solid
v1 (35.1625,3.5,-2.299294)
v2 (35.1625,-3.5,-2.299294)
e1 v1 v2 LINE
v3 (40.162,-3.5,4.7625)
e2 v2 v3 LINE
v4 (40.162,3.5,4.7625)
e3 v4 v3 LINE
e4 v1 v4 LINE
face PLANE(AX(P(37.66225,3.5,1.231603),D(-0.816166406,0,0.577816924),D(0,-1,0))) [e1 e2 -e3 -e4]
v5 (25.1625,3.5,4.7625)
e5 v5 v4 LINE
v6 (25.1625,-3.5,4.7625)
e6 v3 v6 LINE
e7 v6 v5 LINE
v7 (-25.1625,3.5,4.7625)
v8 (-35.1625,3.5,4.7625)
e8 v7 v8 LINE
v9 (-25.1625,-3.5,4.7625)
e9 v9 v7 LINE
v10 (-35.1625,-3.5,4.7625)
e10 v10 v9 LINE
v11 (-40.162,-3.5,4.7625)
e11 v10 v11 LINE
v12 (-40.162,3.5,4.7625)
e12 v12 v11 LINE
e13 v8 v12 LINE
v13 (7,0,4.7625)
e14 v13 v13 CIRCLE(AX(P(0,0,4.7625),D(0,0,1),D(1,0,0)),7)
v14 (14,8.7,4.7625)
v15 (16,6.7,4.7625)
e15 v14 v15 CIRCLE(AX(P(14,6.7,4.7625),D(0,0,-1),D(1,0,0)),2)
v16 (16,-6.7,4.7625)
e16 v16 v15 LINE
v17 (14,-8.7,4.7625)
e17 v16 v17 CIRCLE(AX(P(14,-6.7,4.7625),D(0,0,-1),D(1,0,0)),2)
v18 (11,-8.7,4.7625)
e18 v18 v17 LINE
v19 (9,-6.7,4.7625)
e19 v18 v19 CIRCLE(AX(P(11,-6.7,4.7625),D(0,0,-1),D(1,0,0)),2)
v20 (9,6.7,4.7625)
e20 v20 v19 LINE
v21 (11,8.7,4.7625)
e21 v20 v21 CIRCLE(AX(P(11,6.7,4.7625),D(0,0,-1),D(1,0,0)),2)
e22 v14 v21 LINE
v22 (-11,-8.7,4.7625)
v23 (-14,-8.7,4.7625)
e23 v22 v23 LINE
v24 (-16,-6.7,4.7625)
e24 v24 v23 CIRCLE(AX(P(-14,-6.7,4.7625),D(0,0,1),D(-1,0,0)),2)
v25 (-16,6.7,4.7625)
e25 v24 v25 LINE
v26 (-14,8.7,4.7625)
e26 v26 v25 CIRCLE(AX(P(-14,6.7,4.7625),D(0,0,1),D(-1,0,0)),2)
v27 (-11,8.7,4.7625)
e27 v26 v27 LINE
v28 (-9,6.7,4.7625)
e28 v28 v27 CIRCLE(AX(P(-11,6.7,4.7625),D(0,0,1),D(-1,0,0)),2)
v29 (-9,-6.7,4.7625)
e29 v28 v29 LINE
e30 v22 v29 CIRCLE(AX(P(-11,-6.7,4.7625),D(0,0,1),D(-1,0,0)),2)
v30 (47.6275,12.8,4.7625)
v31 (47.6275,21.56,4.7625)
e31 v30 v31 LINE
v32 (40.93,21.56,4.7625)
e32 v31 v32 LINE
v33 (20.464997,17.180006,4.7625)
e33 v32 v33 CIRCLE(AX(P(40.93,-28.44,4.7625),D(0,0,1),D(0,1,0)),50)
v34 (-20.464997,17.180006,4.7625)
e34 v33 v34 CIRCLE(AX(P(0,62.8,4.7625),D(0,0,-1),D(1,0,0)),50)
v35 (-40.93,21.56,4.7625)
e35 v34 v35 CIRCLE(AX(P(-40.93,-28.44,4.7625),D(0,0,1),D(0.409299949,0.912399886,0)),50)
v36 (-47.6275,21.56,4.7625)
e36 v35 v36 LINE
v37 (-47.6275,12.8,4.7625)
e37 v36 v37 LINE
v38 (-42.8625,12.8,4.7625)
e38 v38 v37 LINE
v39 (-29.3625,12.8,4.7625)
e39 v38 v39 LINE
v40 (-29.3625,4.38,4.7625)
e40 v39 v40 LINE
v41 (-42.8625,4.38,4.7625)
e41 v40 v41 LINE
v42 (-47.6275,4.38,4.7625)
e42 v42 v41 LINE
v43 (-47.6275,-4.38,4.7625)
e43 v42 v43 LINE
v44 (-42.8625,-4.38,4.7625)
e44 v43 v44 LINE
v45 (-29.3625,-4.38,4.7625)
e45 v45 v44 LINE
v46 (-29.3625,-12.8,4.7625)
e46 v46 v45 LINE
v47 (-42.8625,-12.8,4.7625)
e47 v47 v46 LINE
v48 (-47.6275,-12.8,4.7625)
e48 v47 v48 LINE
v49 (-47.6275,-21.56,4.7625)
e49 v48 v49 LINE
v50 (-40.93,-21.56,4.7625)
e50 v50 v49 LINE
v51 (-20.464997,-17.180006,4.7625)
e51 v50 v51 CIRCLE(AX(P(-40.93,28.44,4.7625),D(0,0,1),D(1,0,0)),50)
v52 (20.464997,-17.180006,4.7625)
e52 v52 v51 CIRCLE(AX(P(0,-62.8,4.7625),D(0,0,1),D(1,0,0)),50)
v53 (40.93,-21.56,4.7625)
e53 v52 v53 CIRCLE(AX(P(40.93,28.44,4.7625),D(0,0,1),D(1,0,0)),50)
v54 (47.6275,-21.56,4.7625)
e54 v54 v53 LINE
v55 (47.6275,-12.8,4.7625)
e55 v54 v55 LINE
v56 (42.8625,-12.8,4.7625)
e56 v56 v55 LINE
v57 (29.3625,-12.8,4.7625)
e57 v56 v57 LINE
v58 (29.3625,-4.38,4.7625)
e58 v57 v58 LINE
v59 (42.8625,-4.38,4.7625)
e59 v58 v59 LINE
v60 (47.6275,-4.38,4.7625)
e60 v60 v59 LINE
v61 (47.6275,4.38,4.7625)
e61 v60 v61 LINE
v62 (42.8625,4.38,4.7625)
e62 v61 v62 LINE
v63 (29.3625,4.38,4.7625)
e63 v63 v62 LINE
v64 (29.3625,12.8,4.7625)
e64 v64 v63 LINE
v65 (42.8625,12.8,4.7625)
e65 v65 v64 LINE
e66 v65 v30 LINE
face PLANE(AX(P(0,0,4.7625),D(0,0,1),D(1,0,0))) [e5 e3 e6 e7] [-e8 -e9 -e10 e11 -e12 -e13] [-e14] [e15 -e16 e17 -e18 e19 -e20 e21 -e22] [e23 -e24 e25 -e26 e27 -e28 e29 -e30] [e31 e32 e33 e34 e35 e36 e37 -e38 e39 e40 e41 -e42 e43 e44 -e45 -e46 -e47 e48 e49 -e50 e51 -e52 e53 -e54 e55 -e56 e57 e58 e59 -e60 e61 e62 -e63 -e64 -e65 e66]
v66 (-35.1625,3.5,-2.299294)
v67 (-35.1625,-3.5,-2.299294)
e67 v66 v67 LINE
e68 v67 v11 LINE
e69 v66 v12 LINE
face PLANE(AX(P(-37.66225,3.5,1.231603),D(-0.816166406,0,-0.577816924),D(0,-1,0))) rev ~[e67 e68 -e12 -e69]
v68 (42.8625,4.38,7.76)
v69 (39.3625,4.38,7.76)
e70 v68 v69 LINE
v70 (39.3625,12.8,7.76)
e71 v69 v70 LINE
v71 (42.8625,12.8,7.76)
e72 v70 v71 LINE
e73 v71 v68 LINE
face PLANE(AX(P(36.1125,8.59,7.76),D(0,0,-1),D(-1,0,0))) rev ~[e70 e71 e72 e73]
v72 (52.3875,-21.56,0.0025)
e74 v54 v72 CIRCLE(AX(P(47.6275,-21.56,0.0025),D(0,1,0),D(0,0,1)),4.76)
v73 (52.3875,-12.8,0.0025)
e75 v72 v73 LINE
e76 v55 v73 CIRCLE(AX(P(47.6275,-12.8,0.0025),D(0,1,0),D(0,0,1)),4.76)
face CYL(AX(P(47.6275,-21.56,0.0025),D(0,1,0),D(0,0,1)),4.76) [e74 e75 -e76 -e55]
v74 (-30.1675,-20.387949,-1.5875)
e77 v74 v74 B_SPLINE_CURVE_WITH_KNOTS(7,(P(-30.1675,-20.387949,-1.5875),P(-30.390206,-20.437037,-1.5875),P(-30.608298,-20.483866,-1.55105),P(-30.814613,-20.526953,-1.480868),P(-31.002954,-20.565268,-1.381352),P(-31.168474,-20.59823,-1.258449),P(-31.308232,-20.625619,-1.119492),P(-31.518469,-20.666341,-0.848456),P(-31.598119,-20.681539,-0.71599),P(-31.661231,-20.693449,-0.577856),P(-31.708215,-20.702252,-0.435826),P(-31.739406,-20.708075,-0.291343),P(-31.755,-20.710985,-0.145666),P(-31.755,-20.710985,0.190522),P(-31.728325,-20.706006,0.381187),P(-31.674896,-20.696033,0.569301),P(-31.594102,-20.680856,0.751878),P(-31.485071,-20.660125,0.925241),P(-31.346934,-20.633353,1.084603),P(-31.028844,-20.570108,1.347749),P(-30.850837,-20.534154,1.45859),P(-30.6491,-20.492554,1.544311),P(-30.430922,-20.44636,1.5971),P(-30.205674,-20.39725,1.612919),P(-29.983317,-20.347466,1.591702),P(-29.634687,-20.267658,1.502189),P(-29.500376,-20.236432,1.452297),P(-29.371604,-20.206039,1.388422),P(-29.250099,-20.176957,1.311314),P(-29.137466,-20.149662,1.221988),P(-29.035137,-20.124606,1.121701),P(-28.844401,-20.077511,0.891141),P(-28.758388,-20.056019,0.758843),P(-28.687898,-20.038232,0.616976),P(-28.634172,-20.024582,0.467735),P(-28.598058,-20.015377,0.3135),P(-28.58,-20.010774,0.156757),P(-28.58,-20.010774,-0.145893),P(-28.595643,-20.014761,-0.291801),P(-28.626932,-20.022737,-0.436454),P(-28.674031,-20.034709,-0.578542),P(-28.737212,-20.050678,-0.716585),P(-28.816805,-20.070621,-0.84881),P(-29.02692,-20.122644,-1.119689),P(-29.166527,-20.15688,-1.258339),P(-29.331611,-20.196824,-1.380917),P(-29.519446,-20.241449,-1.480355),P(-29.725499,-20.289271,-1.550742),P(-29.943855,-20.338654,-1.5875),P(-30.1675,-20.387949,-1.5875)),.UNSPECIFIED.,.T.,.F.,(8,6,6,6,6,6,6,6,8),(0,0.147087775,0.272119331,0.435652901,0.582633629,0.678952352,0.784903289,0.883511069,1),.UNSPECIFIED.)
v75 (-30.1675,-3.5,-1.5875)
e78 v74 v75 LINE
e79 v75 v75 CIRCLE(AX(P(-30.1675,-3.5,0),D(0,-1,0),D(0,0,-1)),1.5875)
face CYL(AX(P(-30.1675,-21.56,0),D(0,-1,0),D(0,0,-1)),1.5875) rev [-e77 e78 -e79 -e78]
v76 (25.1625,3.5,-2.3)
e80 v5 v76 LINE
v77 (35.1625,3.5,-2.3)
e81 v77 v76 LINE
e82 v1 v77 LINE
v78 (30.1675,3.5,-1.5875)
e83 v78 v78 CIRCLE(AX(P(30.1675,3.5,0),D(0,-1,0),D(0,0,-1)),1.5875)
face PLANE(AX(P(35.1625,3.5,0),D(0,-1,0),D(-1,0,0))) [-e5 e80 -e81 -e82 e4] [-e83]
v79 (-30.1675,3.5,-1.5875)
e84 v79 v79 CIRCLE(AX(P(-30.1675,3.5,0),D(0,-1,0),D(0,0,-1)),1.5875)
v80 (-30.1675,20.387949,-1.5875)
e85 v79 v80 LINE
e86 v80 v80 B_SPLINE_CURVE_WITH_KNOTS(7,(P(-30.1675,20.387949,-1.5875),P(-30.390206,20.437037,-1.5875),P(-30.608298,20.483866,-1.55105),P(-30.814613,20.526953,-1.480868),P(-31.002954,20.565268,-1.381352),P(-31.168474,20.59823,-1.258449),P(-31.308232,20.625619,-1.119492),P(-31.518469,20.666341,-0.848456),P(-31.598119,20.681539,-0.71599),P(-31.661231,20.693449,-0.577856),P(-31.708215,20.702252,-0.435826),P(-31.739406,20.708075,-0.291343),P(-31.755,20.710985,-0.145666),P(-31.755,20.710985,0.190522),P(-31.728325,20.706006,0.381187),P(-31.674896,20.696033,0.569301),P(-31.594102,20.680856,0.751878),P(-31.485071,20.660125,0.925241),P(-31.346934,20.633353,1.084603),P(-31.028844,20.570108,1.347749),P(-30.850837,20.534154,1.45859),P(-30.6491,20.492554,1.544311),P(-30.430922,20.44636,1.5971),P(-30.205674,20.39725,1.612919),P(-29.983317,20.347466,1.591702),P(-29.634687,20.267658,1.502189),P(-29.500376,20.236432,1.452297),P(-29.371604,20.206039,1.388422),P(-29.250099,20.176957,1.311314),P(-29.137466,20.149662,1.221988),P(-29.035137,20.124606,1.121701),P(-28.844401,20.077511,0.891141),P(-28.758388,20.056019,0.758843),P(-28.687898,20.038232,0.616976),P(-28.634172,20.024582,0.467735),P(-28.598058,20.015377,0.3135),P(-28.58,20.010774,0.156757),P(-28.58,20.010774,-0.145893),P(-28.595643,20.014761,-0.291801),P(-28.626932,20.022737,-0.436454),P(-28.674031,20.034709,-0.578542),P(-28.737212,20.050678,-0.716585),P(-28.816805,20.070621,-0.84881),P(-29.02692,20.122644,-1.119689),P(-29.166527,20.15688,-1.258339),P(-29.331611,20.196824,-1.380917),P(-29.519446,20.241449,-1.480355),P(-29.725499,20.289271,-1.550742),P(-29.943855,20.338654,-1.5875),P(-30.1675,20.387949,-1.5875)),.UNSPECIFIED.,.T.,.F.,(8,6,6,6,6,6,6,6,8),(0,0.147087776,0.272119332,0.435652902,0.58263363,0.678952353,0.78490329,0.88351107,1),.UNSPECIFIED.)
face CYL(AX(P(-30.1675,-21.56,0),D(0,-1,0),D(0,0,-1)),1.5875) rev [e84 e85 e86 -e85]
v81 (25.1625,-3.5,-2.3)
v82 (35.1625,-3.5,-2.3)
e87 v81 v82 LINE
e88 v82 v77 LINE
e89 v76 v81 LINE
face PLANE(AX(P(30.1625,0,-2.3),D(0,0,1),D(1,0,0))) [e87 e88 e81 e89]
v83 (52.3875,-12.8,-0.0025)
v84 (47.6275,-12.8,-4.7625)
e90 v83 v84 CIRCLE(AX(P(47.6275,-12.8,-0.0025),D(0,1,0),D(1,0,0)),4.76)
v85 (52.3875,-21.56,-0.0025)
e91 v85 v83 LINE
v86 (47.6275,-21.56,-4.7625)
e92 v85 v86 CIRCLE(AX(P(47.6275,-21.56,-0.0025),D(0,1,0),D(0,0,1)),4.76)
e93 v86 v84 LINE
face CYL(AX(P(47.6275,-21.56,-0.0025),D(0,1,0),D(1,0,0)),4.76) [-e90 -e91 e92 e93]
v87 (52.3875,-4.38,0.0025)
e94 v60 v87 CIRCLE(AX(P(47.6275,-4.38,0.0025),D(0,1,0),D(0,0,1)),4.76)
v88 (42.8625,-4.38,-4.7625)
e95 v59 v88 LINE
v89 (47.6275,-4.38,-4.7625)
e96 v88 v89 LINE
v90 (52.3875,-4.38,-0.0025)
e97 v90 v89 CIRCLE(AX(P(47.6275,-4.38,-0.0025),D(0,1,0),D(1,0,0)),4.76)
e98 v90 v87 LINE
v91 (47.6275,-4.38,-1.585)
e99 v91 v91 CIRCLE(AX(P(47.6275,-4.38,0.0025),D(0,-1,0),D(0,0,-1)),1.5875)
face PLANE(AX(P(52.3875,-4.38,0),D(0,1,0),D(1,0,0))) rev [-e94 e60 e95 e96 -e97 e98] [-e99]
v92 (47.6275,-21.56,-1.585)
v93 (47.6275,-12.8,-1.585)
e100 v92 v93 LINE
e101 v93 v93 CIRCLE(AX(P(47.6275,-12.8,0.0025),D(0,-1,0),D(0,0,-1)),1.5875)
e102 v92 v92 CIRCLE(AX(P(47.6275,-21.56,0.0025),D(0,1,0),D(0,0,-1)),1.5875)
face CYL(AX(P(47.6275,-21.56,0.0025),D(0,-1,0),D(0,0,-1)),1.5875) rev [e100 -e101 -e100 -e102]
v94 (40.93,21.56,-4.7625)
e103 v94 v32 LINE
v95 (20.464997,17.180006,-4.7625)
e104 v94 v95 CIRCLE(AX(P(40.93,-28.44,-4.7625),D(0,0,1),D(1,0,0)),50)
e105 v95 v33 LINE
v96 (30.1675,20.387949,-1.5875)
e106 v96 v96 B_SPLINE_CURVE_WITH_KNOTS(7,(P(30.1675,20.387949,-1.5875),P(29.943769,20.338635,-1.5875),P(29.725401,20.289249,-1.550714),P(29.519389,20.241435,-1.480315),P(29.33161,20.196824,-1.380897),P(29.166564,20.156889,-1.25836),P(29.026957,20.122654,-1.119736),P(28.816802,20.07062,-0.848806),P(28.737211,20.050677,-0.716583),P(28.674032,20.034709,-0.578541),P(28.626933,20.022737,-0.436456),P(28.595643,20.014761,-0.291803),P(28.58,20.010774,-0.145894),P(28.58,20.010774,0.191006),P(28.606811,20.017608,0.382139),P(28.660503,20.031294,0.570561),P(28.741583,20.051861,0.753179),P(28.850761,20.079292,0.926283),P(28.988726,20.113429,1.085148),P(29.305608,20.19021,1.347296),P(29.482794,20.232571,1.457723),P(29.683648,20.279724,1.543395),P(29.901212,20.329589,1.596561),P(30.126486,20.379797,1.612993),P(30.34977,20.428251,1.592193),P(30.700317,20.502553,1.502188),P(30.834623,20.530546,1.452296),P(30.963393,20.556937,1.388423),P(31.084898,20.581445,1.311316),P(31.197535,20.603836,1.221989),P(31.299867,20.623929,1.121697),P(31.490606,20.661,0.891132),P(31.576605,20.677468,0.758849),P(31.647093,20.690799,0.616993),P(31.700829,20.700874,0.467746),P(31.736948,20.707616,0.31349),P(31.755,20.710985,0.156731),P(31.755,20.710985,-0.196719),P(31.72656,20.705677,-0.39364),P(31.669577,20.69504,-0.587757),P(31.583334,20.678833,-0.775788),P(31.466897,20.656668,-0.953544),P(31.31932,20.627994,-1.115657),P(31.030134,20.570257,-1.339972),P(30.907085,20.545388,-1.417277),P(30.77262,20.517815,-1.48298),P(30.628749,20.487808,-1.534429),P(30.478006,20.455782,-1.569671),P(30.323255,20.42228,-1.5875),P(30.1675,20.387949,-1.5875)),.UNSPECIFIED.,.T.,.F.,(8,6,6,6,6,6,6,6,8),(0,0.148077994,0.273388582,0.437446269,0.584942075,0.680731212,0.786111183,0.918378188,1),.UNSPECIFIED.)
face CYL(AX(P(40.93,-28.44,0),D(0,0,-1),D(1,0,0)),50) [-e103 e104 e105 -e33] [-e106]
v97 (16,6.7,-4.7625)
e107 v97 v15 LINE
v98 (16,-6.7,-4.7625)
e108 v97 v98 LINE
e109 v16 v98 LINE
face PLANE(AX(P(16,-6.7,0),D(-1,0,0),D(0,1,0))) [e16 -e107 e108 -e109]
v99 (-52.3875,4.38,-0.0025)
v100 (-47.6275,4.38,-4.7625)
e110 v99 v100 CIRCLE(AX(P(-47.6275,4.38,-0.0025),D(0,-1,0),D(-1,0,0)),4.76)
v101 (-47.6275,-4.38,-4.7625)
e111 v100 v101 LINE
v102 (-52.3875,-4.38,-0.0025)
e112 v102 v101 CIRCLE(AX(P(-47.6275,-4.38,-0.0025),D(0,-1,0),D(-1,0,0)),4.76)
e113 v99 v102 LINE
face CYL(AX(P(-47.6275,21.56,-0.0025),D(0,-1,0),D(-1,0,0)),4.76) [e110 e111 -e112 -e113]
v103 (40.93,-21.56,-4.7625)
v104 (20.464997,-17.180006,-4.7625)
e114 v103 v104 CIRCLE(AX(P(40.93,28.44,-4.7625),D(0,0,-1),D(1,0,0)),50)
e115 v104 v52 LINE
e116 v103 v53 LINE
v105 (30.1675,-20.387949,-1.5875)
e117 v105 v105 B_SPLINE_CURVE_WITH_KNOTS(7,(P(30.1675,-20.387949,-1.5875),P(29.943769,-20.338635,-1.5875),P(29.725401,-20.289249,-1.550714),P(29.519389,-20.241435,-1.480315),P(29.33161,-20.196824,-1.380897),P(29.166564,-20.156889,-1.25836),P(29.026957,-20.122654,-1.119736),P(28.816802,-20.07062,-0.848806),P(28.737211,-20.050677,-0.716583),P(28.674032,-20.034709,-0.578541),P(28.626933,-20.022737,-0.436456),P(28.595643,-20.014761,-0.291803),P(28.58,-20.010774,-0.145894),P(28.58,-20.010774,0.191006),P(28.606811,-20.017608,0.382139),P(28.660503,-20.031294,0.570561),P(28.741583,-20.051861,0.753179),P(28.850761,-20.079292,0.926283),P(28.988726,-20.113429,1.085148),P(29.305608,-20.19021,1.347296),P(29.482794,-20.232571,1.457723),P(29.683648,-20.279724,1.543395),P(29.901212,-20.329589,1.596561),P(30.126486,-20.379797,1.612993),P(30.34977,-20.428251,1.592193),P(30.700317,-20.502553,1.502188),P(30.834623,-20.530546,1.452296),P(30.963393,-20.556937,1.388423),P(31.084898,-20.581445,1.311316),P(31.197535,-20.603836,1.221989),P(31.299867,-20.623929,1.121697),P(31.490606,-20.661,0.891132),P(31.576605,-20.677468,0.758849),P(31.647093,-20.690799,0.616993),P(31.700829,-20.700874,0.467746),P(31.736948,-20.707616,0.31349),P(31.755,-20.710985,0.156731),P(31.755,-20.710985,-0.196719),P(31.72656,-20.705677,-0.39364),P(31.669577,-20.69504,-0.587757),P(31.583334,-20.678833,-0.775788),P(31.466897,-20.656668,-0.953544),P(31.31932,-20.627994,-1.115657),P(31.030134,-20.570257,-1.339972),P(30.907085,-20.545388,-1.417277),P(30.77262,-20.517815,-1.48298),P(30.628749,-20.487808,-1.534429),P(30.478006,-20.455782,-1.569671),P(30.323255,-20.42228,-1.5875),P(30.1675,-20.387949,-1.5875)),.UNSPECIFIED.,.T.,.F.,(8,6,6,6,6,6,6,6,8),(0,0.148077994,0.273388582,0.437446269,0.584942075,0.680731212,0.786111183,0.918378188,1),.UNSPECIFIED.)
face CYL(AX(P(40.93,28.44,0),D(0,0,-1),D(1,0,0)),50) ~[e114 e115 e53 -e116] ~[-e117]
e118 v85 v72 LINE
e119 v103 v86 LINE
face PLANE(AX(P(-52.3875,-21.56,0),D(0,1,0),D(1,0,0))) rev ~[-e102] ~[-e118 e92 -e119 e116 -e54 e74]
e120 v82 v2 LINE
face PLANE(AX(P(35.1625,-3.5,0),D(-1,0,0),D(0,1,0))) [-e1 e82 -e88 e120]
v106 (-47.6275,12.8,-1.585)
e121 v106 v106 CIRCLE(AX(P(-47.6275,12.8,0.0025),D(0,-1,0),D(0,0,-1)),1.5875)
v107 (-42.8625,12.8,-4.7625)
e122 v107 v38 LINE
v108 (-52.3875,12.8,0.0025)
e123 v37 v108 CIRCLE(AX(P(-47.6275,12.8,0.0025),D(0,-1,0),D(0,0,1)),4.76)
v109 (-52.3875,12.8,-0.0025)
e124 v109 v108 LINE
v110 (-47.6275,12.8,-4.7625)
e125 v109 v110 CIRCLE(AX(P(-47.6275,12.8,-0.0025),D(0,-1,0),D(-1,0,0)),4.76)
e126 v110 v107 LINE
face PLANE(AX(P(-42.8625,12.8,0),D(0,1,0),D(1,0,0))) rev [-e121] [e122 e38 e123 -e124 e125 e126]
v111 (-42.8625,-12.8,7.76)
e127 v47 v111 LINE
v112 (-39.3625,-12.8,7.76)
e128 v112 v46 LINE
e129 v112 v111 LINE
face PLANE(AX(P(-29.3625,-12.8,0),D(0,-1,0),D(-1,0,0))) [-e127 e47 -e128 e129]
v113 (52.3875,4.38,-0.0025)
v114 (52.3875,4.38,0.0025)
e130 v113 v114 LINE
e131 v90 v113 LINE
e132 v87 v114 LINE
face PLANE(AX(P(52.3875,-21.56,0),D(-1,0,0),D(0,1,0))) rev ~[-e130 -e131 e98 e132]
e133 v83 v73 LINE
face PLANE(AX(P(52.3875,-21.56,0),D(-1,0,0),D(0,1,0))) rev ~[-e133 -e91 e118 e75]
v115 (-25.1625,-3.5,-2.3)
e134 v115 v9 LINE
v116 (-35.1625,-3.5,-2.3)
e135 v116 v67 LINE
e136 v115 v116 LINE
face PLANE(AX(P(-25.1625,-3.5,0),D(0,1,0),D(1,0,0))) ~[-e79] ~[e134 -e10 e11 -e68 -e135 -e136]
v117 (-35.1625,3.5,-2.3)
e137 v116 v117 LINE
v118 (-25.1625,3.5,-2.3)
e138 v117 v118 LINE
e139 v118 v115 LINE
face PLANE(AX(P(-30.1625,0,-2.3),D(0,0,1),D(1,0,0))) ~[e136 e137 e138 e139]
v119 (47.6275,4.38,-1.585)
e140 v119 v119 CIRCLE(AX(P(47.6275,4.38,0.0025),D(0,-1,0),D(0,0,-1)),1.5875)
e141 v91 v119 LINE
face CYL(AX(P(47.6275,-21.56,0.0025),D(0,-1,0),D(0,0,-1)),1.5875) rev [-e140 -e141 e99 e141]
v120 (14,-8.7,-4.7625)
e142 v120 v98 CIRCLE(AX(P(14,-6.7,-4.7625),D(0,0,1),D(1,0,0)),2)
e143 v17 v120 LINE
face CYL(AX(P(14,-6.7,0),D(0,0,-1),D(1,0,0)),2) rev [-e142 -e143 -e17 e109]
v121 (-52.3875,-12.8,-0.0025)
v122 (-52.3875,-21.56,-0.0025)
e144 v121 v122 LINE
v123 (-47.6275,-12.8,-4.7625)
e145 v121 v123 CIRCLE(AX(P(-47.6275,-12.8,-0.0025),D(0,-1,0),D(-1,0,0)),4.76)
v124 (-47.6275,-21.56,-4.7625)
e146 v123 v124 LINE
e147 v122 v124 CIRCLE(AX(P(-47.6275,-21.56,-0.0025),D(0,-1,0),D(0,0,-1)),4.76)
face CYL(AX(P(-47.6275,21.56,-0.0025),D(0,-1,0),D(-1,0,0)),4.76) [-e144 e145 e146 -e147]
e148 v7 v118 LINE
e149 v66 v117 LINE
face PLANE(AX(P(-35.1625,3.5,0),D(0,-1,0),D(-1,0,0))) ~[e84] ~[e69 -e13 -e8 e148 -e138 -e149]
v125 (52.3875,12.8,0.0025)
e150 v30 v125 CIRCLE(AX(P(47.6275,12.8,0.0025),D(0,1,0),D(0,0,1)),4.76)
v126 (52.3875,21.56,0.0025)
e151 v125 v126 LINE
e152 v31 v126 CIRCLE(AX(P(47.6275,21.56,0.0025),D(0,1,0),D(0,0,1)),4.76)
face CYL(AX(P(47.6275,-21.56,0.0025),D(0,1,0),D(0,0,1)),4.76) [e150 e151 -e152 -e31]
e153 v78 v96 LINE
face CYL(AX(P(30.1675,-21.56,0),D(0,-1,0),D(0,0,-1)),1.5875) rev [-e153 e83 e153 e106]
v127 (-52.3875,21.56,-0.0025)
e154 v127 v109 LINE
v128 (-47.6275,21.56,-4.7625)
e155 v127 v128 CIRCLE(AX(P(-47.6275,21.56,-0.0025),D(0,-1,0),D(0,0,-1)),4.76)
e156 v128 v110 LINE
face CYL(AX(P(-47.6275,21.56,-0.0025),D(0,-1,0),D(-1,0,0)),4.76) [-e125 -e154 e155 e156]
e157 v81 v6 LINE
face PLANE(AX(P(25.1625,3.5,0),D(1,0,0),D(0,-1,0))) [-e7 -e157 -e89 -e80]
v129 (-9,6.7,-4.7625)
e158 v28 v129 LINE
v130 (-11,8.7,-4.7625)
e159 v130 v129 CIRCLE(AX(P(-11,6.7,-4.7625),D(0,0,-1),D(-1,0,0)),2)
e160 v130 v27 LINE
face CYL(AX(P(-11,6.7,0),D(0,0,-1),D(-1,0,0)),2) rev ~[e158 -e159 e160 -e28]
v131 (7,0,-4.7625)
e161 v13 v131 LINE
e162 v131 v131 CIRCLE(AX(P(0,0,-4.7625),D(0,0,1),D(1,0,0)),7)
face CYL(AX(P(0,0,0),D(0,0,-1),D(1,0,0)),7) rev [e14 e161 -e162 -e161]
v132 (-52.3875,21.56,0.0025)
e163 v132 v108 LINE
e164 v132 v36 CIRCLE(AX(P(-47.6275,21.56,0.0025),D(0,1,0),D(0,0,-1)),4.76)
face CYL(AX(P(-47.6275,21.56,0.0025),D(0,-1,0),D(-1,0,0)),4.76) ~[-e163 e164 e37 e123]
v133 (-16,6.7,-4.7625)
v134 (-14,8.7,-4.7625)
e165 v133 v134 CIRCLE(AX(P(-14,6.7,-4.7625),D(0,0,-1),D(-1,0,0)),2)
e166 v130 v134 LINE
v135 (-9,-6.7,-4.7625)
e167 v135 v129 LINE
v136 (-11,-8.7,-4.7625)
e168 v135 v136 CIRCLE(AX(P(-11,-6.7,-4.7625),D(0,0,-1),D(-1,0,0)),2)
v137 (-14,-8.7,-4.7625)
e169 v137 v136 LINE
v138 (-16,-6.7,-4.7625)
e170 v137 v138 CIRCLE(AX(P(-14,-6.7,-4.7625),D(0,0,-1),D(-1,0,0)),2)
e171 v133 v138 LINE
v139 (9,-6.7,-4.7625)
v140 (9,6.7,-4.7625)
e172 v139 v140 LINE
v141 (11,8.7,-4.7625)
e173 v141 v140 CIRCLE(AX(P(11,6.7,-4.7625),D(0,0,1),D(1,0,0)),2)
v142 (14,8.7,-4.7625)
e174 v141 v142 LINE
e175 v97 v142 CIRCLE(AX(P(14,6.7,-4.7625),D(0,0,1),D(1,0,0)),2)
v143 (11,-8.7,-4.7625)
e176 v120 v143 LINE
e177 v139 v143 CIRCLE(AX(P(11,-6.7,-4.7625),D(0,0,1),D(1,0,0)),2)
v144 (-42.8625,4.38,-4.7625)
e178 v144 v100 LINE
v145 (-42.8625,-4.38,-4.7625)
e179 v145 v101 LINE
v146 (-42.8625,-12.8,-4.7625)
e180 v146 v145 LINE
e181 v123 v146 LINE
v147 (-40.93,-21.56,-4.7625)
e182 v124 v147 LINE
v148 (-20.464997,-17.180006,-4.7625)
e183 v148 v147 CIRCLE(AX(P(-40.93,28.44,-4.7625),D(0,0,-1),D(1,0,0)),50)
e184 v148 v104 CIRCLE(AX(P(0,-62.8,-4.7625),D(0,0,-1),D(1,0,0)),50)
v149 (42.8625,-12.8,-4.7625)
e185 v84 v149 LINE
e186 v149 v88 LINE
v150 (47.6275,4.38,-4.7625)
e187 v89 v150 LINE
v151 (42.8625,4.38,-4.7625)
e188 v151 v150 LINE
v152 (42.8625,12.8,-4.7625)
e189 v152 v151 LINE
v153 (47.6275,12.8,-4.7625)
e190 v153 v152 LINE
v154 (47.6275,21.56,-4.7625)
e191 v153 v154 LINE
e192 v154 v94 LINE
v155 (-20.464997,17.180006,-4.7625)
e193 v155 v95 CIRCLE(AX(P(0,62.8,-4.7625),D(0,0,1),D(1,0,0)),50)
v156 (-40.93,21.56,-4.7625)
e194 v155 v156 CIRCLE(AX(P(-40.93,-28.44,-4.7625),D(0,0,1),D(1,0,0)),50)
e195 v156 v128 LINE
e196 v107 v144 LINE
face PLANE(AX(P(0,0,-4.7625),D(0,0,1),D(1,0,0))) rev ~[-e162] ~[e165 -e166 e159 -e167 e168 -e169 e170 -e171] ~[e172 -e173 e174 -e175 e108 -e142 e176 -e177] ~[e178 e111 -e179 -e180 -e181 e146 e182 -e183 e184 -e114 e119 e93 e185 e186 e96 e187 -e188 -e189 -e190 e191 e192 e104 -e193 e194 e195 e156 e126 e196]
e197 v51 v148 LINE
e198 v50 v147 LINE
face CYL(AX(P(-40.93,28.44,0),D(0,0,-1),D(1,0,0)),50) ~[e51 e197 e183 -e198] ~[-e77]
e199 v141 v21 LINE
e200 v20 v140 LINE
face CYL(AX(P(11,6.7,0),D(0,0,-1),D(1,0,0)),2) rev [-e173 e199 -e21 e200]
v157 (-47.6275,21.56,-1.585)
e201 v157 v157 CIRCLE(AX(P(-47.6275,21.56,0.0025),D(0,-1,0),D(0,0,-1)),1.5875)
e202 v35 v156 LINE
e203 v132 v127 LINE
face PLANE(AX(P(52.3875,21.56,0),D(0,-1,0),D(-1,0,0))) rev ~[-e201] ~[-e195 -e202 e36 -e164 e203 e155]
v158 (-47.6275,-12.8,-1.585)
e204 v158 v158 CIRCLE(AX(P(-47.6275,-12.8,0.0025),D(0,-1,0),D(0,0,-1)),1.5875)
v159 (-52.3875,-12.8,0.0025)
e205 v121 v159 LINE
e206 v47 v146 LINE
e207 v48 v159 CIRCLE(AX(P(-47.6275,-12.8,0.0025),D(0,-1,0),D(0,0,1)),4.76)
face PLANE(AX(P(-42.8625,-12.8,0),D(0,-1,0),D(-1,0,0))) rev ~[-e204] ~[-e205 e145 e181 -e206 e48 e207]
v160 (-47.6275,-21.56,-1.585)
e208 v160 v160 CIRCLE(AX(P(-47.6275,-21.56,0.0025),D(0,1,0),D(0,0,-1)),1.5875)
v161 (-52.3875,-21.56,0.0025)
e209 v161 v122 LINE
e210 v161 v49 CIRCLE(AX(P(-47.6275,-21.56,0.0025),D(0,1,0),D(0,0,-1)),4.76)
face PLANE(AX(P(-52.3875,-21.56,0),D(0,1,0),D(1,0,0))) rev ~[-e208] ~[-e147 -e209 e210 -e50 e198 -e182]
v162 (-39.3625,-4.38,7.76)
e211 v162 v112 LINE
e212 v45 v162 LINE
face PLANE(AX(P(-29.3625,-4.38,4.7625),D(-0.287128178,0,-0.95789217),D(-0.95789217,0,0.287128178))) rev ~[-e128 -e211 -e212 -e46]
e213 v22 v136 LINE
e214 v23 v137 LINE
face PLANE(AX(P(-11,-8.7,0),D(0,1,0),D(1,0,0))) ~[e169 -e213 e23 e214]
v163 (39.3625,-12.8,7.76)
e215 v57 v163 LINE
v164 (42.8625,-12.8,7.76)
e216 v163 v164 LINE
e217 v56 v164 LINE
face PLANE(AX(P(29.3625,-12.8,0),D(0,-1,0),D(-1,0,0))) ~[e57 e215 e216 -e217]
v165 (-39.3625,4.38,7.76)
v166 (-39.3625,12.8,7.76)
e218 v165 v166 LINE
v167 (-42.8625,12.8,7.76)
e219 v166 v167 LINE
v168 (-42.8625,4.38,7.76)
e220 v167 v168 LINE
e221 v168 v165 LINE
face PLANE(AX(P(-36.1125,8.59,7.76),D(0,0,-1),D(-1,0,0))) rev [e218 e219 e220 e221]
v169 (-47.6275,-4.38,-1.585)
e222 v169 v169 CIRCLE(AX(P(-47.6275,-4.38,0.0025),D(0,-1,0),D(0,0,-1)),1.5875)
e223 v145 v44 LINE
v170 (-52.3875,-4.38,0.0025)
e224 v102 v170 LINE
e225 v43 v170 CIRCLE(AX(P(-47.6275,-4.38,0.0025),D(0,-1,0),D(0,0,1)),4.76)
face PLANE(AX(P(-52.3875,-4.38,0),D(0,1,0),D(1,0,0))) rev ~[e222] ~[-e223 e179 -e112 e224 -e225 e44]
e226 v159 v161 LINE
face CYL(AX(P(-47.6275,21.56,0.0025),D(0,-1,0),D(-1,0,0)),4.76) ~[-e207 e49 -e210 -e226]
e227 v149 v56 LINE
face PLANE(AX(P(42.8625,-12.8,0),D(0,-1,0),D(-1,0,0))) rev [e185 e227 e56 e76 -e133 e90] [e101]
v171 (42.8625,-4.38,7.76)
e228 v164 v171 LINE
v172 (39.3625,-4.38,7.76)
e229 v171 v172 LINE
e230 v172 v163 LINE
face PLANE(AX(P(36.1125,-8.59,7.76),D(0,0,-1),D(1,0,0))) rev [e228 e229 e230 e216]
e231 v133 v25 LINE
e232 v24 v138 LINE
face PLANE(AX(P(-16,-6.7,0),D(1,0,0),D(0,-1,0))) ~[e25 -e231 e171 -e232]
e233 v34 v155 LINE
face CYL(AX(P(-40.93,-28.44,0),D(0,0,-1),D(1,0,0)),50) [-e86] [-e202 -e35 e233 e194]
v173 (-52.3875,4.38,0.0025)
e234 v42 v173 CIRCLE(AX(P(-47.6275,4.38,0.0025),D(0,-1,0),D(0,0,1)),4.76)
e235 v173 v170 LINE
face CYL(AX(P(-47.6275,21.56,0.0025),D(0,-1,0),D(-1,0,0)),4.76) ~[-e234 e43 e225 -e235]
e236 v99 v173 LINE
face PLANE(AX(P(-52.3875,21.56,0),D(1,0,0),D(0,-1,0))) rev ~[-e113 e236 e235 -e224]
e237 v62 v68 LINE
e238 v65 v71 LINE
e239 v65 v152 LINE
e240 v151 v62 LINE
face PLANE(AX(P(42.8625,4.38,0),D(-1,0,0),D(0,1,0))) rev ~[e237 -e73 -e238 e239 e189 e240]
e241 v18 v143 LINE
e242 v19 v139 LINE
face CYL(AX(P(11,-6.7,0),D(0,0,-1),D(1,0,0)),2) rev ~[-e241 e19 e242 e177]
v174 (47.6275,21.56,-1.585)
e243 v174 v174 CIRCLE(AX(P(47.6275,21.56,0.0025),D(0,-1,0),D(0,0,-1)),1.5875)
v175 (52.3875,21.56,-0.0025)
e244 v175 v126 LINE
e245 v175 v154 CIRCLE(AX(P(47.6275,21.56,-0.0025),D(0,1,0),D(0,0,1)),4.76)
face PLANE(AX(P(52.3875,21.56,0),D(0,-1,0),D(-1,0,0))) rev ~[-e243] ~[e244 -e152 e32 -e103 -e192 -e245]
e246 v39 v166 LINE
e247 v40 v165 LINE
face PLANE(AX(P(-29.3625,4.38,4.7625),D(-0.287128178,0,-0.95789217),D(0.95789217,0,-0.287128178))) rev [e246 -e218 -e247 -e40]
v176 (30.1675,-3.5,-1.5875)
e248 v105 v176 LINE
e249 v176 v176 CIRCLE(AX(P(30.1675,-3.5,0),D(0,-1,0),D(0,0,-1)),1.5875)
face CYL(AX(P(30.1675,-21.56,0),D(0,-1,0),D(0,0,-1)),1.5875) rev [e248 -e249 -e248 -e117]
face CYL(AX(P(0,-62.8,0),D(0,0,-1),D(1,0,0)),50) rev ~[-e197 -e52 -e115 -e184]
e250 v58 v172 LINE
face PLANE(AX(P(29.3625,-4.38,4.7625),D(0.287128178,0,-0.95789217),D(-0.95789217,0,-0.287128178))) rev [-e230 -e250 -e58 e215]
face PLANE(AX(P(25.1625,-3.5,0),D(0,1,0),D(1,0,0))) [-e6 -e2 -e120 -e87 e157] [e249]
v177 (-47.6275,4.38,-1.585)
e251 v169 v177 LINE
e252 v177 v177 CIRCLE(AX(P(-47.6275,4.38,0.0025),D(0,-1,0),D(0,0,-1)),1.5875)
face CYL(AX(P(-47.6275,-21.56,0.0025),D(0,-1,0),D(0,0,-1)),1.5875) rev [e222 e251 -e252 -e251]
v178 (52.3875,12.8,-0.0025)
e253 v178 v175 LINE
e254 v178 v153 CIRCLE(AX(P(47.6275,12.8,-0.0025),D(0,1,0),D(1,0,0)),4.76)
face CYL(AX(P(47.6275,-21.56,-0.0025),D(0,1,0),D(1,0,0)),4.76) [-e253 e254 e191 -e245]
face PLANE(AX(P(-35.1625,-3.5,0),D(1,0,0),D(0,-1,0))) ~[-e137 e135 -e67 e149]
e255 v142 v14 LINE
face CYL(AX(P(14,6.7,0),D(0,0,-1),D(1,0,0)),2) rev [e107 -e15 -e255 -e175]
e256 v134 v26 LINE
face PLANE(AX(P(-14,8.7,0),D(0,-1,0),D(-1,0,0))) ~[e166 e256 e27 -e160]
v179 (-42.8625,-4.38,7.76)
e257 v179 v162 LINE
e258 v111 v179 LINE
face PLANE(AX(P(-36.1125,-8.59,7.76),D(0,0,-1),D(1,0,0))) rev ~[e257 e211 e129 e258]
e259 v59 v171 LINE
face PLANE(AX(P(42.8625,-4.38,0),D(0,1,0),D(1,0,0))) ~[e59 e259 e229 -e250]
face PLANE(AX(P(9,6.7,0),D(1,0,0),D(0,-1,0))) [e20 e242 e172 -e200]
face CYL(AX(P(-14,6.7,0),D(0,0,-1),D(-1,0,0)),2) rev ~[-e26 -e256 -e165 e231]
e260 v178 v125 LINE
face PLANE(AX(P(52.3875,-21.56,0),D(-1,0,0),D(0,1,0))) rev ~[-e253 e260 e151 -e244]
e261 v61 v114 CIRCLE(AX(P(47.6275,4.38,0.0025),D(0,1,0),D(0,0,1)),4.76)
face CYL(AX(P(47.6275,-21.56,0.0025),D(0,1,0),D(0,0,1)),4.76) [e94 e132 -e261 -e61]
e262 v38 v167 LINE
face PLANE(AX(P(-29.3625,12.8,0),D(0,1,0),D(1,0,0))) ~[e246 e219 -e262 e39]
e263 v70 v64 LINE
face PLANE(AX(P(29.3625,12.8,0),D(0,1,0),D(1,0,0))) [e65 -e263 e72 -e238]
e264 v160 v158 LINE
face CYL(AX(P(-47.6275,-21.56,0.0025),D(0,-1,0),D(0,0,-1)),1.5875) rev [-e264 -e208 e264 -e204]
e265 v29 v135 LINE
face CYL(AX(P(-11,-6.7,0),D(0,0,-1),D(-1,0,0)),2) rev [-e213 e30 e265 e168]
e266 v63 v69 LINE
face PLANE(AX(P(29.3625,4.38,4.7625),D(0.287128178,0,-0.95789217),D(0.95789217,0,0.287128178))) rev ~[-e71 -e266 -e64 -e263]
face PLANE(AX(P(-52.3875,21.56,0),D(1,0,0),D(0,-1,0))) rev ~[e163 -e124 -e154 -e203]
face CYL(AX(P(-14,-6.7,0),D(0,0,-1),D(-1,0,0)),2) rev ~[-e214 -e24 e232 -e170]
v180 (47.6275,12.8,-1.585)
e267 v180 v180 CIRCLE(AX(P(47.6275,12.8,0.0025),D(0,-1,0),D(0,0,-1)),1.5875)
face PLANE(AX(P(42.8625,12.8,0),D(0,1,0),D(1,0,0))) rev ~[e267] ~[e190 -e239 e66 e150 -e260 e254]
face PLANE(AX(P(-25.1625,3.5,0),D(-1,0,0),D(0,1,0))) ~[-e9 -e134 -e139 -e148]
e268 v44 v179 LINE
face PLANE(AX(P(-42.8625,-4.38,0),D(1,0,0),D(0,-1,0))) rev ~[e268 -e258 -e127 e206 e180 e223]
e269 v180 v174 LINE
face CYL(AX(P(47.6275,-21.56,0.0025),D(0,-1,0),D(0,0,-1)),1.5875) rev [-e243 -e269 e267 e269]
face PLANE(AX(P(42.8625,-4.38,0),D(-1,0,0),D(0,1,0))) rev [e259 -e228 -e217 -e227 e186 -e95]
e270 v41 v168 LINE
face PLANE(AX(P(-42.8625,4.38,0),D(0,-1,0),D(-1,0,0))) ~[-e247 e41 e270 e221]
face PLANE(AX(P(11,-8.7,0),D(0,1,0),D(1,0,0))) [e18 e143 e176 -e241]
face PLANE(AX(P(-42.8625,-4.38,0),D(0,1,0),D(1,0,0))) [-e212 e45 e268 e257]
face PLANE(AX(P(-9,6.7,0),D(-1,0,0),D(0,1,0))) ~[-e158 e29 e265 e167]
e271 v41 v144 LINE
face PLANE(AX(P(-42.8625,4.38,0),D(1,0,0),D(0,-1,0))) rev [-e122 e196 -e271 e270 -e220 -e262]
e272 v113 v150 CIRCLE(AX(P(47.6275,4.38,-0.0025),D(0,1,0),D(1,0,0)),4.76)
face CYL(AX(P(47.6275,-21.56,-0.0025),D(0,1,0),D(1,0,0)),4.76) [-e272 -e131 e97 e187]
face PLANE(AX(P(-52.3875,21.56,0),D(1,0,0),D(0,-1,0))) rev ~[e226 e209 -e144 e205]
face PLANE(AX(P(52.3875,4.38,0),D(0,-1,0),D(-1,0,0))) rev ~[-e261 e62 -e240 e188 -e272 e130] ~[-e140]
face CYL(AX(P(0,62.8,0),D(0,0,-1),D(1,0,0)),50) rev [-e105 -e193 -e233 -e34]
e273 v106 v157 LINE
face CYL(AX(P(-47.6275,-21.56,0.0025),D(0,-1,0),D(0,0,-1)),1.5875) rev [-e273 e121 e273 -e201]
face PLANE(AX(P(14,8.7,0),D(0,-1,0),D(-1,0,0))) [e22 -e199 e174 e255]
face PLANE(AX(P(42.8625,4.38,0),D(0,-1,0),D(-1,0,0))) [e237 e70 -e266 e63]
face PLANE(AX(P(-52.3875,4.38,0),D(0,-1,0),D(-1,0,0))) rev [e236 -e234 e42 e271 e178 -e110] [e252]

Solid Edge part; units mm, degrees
sketch "Sketch1" plane through (0, 0, 0) normal (0, 0, 1) x (1, 0, 0)
  line L0 (-52.3875, -21.56) -> (52.3875, -21.56)
  line L1 (52.3875, -21.56) -> (52.3875, 21.56)
  line L2 (52.3875, 21.56) -> (-52.3875, 21.56)
  line L3 (-52.3875, 21.56) -> (-52.3875, -21.56)
  circle A0 centre (0, 0) radius 7
  dimension "D1" = 104.775
  dimension "D2" = 43.12
  dimension "D3" = 8.76
  dimension "D4" = 50
  dimension "D5" = 50
  dimension "D6" = 8.42
  dimension "D7" = 9.525
  dimension "D8" = 14
  dimension "D9" = 9
  dimension "D10" = 7
  dimension "D11" = 17.4
  dimension "D12" = 2
  dimension "D13" = 13.5
  dimension "D14" = 7
  dimension "D15" = 10
  dimension "D16" = 22.225
extrude "Protrusion1" add sketch "Sketch1" along normal mid plane 9.525
sketch "Sketch2" plane through (0, 0, 0) normal (0, 0, 1) x (1, 0, 0)
  arc A0 (-20.465, 17.18) -> (20.465, 17.18) centre (0, 62.8) ccw
  arc A1 (20.465, 17.18) -> (40.93, 21.56) centre (40.93, -28.44) cw
  line L0 (-40.93, 21.56) -> (40.93, 21.56)
  arc A2 (-40.93, 21.56) -> (-20.465, 17.18) centre (-40.93, -28.44) cw
extrude "Cutout1" cut sketch "Sketch2" along normal up to next and the other way up to next
sketch "Sketch3" plane through (0, 0, 0) normal (0, 0, 1) x (1, 0, 0)
  line L0 (16, -6.7) -> (16, 6.7)
  arc A0 (16, 6.7) -> (14, 8.7) centre (14, 6.7) ccw
  line L1 (14, 8.7) -> (11, 8.7)
  arc A1 (11, 8.7) -> (9, 6.7) centre (11, 6.7) ccw
  line L2 (9, 6.7) -> (9, -6.7)
  arc A2 (11, -8.7) -> (9, -6.7) centre (11, -6.7) cw
  line L3 (11, -8.7) -> (14, -8.7)
  arc A3 (14, -8.7) -> (16, -6.7) centre (14, -6.7) ccw
extrude "Cutout2" cut sketch "Sketch3" along normal up to next and the other way up to next
fillet "Round_1" radius 4.76 4 edges at (52.3875, 0, 4.7625) (52.3875, 0, -4.7625) (-52.3875, 0, 4.7625) (-52.3875, 0, -4.7625)
sketch "Sketch4" plane through (0, 0, 0) normal (0, 0, 1) x (1, 0, 0)
  line L0 (52.3875, 4.38) -> (42.8625, 4.38)
  line L1 (42.8625, 4.38) -> (42.8625, 12.8)
  line L2 (42.8625, 12.8) -> (52.3875, 12.8)
  line L3 (52.3875, 12.8) -> (52.3875, 4.38)
extrude "Cutout3" cut sketch "Sketch4" along normal up to next and the other way up to next
sketch "Sketch5" plane through (0, 0, 0) normal (0, 0, 1) x (1, 0, 0)
  line L0 (42.8625, 4.38) -> (29.3625, 4.38)
  line L1 (29.3625, 4.38) -> (29.3625, 12.8)
  line L2 (29.3625, 12.8) -> (42.8625, 12.8)
  line L3 (42.8625, 12.8) -> (42.8625, 4.38)
extrude "ExtrudedProtrusion_2" add sketch "Sketch5" along normal blind 7.76
sketch "Sketch6" plane through (36.1125, 4.38, 6.2613) normal (0, -1, 0) x (1, 0, 0)
  line L0 (-6.75, -1.4988) -> (3.25, 1.4987)
  line L1 (3.25, 1.4987) -> (-6.75, 1.4987)
  line L2 (-6.75, 1.4987) -> (-6.75, -1.4988)
  dimension "D1" = 3.5
extrude "Cutout4" cut sketch "Sketch6" against normal through all
mirror "Mirror1" about plane through (0, 0, 0) normal (0, -1, 0) of "Cutout3", "ExtrudedProtrusion_2", "Cutout4"
mirror "Mirror2" about plane through (0, 0, 0) normal (1, 0, 0) of "Mirror1", "Cutout3", "ExtrudedProtrusion_2", "Cutout4"
mirror "Mirror3" about plane through (0, 0, 0) normal (0, -1, 0) of "Cutout1"
mirror "Mirror4" about plane through (0, 0, 0) normal (1, 0, 0) of "Cutout2"
hole "Hole_1" at (-47.6275, -21.56, 0.0025) direction (0, 1, 0) diameter 3.175 end through all
hole "Hole1" at (47.6275, -21.56, 0.0025) direction (0, 1, 0) diameter 3.175 end through all
hole "Hole2" at (30.1675, -21.56, 0) direction (0, 1, 0) diameter 3.175 end through all
hole "Hole3" at (-30.1675, -21.56, 0) direction (0, 1, 0) diameter 3.175 end through all
sketch "Sketch7" plane through (0, 0, 0) normal (0, 0, 1) x (1, 0, 0)
  line L0 (25.1625, 3.5) -> (25.1625, -3.5)
  line L1 (25.1625, -3.5) -> (35.1625, -3.5)
  line L2 (35.1625, -3.5) -> (35.1625, 3.5)
  line L3 (35.1625, 3.5) -> (25.1625, 3.5)
extrude "ExtrudedCutout_15" cut sketch "Sketch7" along normal blind 20.4338 and the other way blind 2.3
chamfer "Chamfer_1" distance 7.0625 distance2 5 1 edges at (35.1625, 0, 4.7625) measured on face at (35.1625, -2.4033, 3.5148)
mirror "Mirror5" about plane through (0, 0, 0) normal (1, 0, 0) of "ExtrudedCutout_15"
chamfer "Chamfer1" distance 7.0625 distance2 5 1 edges at (-35.1625, 0, 4.7625) measured on face at (-35.1625, -2.4033, 3.5148)
